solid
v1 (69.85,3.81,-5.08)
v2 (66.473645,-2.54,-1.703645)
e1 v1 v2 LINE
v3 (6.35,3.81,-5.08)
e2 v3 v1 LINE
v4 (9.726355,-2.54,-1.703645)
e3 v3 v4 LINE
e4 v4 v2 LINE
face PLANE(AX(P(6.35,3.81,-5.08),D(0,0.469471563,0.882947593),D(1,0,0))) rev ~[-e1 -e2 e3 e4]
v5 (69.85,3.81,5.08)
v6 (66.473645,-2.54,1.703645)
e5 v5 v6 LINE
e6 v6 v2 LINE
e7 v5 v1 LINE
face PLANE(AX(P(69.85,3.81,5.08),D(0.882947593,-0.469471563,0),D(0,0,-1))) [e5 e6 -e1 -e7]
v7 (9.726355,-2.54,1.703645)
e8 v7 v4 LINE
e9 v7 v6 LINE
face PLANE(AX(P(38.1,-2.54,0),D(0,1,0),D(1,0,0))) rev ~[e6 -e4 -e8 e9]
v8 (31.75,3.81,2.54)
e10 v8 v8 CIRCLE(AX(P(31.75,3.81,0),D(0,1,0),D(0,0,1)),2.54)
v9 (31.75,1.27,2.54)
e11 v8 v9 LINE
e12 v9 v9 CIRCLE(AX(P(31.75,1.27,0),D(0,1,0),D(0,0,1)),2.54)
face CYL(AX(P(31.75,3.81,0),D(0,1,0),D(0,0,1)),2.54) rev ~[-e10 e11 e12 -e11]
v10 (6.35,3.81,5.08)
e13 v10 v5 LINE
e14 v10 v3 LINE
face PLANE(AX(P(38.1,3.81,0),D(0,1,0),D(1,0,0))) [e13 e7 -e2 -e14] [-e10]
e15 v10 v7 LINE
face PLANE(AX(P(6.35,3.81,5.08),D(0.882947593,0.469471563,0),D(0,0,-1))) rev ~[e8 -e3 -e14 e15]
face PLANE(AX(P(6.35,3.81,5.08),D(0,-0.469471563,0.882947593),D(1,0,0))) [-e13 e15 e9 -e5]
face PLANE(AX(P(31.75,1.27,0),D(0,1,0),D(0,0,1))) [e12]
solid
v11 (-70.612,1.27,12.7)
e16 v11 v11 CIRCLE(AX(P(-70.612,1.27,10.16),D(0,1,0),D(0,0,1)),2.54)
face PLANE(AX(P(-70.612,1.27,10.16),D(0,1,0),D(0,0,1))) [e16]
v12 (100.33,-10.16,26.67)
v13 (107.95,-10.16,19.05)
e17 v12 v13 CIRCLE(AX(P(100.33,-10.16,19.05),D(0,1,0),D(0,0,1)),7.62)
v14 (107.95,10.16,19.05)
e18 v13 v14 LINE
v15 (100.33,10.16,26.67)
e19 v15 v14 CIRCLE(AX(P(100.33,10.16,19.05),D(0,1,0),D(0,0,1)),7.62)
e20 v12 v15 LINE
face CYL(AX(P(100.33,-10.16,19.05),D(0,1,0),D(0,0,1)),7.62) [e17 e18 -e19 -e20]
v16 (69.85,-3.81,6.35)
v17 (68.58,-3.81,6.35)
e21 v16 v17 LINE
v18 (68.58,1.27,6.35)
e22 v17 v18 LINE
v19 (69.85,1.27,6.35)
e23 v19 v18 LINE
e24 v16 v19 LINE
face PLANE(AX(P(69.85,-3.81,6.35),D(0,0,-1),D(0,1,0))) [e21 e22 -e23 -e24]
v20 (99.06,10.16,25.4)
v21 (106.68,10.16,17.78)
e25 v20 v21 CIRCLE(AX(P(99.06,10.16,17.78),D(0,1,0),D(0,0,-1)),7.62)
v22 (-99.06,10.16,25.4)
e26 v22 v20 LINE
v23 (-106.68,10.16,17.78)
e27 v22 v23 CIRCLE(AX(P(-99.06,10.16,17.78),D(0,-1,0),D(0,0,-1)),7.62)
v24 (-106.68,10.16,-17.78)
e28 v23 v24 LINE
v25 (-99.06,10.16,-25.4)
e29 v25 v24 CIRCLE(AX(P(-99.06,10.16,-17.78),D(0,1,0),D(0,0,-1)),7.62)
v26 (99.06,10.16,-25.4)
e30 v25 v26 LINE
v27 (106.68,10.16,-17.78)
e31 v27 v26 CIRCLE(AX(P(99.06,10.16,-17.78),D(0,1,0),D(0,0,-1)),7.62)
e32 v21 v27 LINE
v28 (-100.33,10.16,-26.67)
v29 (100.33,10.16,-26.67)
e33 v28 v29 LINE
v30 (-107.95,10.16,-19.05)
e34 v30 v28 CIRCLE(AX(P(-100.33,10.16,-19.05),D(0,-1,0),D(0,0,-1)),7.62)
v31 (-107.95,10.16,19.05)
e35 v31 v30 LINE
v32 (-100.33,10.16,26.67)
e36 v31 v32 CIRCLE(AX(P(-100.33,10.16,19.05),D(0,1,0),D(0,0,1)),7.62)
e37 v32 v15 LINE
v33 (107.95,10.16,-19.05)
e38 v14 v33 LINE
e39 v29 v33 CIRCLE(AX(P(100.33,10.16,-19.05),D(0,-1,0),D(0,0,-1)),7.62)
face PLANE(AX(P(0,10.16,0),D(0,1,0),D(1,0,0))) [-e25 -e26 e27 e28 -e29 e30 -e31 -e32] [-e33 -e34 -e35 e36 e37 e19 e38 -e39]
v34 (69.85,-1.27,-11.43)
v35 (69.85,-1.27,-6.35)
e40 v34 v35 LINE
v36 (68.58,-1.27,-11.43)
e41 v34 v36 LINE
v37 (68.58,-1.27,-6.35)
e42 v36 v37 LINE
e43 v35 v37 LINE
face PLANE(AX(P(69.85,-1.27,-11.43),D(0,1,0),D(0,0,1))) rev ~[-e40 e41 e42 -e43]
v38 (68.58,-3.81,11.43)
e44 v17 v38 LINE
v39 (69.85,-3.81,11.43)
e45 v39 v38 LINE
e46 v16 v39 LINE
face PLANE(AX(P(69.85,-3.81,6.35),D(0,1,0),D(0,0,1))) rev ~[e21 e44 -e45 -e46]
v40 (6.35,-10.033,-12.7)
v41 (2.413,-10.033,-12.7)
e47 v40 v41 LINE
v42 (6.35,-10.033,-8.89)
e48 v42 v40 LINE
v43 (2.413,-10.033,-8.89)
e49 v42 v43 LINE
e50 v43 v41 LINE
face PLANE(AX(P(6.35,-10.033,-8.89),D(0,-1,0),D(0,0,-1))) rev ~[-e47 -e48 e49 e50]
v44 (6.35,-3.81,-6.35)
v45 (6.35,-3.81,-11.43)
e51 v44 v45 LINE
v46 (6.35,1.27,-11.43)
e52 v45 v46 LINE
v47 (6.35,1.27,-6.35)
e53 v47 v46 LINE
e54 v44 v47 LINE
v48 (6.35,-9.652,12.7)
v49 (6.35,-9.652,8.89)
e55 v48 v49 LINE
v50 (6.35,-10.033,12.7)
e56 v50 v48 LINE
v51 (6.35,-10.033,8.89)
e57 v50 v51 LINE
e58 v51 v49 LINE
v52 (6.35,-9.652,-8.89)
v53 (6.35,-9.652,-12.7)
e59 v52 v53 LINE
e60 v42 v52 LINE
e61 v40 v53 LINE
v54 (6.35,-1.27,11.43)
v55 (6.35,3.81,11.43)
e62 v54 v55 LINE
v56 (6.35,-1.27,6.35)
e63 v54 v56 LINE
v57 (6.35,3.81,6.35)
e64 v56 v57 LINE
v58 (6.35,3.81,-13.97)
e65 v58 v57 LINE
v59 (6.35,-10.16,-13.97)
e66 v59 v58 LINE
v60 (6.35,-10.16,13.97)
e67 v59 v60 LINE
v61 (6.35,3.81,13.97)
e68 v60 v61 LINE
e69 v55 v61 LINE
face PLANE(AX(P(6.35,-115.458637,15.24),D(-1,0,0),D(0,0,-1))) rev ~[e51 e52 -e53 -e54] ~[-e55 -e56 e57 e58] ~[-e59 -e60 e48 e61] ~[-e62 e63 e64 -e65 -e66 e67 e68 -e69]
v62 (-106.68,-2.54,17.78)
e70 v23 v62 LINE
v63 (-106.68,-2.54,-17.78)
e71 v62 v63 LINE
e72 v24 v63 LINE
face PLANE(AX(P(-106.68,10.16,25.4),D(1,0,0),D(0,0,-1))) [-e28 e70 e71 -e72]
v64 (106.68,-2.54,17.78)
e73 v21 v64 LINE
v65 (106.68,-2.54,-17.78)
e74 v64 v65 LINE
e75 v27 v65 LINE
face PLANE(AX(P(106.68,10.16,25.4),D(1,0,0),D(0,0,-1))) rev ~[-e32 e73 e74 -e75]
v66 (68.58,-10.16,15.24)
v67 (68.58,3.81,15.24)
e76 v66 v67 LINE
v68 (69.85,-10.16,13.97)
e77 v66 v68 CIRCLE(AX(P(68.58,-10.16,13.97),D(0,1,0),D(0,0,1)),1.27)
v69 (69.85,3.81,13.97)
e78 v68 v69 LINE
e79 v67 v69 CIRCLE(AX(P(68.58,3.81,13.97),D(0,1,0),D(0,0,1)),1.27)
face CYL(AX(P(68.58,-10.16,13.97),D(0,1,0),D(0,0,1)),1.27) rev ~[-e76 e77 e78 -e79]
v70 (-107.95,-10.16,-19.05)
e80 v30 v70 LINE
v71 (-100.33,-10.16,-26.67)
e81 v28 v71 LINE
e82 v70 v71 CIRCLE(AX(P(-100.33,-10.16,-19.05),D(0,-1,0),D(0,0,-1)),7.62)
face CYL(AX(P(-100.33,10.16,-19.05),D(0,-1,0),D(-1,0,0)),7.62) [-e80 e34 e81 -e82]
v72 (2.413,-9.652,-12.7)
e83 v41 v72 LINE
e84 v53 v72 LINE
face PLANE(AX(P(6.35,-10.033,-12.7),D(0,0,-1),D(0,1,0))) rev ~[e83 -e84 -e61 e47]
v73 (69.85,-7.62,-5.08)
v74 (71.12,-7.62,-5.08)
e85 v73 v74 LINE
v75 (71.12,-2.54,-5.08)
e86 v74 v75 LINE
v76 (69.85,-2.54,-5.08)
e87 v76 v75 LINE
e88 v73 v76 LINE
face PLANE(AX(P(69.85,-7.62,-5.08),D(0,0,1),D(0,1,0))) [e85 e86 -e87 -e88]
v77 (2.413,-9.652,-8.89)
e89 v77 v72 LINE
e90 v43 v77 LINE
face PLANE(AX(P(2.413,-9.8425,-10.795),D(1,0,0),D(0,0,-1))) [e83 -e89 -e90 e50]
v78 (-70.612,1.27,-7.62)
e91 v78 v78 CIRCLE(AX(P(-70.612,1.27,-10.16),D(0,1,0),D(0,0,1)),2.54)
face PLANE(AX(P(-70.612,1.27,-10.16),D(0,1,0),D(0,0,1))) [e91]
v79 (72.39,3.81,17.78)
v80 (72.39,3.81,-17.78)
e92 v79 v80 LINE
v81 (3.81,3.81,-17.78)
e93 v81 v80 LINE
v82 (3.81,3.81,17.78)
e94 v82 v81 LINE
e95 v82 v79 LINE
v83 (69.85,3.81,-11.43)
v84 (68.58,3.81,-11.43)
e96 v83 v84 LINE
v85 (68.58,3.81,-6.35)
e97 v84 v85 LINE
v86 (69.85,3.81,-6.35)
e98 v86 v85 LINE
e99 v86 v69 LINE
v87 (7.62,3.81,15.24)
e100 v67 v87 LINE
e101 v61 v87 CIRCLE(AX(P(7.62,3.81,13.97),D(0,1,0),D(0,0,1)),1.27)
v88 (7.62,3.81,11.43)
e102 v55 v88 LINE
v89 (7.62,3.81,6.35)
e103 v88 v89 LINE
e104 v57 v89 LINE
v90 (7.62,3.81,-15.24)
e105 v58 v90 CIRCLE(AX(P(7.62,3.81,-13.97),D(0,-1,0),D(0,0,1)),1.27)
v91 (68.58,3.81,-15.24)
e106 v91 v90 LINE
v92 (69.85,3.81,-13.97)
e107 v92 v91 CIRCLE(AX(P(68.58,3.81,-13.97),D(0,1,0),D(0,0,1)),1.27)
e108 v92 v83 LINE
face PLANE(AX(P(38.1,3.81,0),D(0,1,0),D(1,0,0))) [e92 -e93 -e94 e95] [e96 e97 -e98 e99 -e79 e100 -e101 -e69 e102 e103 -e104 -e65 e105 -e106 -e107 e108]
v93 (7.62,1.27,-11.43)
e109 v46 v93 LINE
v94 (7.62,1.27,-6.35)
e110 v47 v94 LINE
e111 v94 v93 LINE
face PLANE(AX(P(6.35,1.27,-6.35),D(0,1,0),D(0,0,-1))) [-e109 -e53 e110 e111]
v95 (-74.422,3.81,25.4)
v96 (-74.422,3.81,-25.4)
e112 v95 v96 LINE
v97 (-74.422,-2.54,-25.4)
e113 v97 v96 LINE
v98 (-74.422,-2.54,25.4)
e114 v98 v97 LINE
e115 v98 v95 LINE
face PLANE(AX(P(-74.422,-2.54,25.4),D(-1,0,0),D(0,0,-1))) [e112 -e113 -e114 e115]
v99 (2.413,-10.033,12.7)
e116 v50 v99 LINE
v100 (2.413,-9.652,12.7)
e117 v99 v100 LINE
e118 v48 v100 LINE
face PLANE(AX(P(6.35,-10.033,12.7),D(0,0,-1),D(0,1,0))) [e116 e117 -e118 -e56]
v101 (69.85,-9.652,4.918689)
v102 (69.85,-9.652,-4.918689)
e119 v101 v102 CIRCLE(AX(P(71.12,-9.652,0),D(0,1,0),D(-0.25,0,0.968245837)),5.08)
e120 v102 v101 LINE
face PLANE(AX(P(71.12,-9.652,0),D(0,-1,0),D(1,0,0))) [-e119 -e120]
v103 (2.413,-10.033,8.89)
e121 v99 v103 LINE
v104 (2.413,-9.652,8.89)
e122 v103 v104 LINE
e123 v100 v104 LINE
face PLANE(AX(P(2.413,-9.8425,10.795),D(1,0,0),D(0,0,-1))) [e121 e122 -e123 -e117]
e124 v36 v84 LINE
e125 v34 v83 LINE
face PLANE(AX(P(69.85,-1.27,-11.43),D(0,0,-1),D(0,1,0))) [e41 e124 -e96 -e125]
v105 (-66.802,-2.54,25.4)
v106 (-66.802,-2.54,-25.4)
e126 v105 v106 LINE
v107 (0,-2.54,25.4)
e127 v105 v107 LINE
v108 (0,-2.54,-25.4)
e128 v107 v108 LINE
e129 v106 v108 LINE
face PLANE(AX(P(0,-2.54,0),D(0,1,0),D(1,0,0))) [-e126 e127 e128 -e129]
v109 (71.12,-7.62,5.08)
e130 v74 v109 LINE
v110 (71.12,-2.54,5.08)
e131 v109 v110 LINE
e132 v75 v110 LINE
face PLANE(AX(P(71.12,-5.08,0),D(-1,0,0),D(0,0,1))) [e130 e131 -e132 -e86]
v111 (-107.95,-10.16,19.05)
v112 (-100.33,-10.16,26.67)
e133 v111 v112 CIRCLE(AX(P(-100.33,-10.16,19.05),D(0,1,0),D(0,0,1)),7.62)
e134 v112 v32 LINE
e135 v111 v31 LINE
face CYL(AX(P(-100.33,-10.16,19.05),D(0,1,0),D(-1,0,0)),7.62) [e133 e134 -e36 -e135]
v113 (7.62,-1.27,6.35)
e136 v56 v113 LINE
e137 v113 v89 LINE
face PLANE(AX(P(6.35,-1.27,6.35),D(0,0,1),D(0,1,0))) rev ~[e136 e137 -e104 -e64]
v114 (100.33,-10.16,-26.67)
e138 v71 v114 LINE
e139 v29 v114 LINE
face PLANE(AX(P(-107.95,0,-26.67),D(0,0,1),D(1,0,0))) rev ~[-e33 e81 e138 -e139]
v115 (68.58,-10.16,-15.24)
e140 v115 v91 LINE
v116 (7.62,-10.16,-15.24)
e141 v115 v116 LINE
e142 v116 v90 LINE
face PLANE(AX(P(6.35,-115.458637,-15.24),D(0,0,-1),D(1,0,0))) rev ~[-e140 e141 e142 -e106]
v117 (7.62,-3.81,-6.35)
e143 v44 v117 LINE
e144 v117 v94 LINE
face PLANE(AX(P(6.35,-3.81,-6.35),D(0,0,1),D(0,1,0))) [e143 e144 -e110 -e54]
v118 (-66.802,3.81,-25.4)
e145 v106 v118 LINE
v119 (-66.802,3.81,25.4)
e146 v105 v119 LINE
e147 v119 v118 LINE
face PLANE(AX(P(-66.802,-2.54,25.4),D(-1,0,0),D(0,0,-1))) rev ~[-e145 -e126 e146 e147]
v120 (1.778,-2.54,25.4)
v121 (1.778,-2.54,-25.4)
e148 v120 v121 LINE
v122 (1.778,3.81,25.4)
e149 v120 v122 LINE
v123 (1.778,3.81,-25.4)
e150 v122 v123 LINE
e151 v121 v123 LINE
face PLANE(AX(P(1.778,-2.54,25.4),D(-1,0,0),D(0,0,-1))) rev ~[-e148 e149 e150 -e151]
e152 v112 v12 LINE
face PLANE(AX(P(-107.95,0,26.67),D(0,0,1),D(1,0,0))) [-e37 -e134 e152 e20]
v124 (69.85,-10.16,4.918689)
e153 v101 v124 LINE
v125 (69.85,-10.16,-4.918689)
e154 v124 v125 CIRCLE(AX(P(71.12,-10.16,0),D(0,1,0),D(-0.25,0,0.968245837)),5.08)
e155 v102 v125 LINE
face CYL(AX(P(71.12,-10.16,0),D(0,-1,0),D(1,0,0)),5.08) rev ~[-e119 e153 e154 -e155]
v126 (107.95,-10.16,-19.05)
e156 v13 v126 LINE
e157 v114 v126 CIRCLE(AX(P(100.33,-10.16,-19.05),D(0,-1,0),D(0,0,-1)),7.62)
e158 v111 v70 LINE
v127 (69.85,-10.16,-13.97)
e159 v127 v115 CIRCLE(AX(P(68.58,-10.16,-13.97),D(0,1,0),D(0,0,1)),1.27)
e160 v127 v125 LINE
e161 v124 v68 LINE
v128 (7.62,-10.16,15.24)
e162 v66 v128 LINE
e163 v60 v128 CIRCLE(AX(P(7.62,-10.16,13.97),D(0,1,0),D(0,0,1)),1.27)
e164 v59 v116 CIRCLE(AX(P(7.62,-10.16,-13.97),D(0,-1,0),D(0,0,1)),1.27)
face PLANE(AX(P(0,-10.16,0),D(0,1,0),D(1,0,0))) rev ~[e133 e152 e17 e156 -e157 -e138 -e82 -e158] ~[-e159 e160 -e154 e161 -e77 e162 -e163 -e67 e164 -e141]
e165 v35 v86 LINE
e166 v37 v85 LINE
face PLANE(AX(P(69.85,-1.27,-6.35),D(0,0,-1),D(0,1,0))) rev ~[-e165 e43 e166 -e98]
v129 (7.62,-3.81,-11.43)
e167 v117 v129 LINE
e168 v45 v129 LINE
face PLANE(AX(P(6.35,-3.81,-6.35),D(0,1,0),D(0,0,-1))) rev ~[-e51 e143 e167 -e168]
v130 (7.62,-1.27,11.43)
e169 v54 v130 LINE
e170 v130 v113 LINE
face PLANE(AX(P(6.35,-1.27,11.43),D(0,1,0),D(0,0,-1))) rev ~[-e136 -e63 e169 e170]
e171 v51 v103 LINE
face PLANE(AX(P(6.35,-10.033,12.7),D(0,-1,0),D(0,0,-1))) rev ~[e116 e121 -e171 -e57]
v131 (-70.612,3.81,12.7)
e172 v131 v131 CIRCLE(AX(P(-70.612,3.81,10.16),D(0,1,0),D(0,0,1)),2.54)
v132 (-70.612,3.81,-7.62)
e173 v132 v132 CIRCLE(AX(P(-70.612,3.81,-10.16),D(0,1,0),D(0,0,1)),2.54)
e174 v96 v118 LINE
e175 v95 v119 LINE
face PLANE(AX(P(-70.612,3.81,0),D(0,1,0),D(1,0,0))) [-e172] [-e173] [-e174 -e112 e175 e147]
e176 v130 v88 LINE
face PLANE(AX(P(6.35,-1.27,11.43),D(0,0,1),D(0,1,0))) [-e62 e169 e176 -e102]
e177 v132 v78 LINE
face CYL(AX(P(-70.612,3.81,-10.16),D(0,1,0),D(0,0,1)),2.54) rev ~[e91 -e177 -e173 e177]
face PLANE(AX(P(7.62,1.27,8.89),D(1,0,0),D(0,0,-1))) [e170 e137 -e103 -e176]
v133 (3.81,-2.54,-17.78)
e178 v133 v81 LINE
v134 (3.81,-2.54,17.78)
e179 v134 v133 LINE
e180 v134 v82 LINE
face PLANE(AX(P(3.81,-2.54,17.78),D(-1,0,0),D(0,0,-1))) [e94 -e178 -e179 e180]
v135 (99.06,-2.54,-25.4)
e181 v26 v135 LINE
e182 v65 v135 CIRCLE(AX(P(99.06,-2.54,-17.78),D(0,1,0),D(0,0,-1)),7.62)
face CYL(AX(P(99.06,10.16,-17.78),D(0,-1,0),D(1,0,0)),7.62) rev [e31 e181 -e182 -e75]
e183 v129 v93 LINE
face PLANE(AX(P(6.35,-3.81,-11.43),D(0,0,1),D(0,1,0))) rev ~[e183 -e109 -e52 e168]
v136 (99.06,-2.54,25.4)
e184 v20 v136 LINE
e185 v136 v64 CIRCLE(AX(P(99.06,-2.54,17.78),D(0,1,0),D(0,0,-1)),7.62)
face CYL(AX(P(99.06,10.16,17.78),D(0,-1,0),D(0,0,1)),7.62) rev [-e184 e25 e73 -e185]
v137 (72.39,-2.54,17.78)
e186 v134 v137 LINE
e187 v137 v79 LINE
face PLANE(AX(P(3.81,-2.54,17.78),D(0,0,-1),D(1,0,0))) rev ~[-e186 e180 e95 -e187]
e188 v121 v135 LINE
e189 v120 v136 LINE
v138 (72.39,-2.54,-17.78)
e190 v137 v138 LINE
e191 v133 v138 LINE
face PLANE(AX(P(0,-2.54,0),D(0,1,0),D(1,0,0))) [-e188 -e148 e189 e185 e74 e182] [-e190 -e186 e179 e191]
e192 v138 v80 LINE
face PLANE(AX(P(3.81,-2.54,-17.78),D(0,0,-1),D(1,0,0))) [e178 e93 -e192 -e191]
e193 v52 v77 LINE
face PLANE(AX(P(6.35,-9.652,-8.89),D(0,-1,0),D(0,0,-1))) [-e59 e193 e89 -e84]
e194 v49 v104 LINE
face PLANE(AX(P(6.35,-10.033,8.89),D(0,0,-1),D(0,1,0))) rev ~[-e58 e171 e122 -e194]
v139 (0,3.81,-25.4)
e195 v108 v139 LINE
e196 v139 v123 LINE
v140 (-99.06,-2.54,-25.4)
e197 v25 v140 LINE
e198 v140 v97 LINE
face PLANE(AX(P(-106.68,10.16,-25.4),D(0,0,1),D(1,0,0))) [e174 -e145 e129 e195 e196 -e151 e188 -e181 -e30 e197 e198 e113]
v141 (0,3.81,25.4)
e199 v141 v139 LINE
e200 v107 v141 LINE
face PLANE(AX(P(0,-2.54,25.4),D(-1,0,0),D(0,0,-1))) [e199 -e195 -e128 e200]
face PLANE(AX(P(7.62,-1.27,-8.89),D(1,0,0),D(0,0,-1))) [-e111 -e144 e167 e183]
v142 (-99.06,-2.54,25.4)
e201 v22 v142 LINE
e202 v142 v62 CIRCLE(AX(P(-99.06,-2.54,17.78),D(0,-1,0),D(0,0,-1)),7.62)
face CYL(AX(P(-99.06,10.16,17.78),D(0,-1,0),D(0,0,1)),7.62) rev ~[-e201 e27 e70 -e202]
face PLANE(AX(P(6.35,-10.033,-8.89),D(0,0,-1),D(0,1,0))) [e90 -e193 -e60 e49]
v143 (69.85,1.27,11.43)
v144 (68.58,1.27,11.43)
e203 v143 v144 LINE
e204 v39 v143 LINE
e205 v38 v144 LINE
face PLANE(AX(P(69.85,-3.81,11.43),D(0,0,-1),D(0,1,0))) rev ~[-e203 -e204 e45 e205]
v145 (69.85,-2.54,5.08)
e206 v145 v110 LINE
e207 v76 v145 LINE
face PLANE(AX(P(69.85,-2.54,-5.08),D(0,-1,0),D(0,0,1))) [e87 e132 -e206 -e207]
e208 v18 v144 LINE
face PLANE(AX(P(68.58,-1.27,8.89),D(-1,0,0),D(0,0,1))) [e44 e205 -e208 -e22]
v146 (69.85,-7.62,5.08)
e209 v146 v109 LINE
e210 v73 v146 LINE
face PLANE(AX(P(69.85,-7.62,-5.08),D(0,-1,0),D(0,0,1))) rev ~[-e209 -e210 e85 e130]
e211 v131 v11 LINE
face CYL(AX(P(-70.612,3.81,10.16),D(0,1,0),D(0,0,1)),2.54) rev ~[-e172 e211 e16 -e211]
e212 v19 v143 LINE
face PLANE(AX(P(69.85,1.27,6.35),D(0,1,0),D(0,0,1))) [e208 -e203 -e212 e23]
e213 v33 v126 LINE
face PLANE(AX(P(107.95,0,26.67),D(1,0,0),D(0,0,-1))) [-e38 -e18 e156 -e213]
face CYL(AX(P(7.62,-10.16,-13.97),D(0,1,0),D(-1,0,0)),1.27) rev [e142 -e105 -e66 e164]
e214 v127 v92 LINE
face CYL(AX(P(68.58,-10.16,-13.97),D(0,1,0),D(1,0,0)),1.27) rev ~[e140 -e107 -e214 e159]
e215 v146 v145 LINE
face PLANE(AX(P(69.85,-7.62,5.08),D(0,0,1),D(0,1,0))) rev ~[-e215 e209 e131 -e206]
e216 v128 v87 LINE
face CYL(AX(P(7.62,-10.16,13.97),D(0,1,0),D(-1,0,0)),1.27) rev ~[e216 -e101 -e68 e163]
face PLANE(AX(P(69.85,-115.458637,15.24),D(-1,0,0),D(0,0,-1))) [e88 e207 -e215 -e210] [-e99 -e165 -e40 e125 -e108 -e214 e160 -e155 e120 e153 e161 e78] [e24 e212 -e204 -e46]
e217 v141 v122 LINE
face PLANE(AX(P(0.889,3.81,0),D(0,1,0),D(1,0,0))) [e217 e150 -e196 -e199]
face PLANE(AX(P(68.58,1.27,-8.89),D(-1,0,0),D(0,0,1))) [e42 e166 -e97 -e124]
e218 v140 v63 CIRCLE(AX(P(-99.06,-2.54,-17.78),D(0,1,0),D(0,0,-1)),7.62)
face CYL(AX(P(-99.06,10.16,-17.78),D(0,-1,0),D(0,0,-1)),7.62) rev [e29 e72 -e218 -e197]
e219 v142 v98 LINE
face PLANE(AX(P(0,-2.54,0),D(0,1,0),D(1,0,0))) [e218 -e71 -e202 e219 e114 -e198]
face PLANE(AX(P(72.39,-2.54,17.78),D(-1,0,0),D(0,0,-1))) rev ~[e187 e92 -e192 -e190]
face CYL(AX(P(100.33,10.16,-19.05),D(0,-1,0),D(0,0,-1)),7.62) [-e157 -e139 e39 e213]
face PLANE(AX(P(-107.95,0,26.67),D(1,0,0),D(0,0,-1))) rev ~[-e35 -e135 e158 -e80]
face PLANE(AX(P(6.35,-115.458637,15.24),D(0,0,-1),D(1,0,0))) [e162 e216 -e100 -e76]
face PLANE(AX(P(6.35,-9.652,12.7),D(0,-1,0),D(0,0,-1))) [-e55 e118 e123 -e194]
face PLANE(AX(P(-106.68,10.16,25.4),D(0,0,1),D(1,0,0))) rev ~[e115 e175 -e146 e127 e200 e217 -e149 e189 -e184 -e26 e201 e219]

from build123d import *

# Parameters (mm, degrees)
SKETCH1_W               = 215.9
SKETCH1_H               = 53.34
BOSS_EXTRUDE1_DEPTH     = 10.16
SKETCH3_W               = 213.36
SKETCH3_H               = 50.8
CUT_EXTRUDE1_DEPTH      = 12.7
FILLET3_R               = 7.62
SKETCH4_W               = 7.62
SKETCH4_H               = 50.8
SKETCH4_W_2             = 1.778
BOSS_EXTRUDE2_DEPTH     = 6.35
SKETCH5_W               = 68.58
SKETCH5_H               = 35.56
BOSS_EXTRUDE3_DEPTH     = 6.35
CUT_EXTRUDE2_DEPTH      = 112.918637411
CUT_EXTRUDE2_DEPTH_BACK = 112.918637411
SKETCH9_W               = 63.5
SKETCH9_H               = 30.48
SKETCH10_W              = 63.5
SKETCH10_H              = 10.16
BOSS_EXTRUDE4_DEPTH     = 6.35
BOSS_EXTRUDE4_DRAFT     = -28
SKETCH11_W              = 5.08
SKETCH11_H              = 5.08
BOSS_EXTRUDE5_DEPTH     = 1.27
SKETCH13_W              = 5.08
SKETCH13_H              = 5.08
BOSS_EXTRUDE6_DEPTH     = 1.27
SKETCH16_W              = 10.16
SKETCH16_H              = 5.08
CUT_EXTRUDE3_DEPTH      = 1.27
FILLET4_R               = 1.27
SKETCH19_R              = 5.08
CUT_EXTRUDE5_DEPTH      = 0.508
SKETCH21_W              = 3.81
SKETCH21_H              = 0.381
CUT_EXTRUDE7_DEPTH      = 3.937
SKETCH24_R              = 2.54
CUT_EXTRUDE11_DEPTH     = 2.54
SKETCH25_R              = 2.54
CUT_EXTRUDE12_DEPTH     = 2.54


with BuildPart() as part:
    # Sketch1 → Boss-Extrude1 (new, symmetric)
    with BuildSketch(Plane(origin=(0, 0, 0), x_dir=(1, 0, 0), z_dir=(0, 1, 0))):
        Rectangle(SKETCH1_W, SKETCH1_H)
    extrude(amount=BOSS_EXTRUDE1_DEPTH, both=True)

    # Sketch3 → Cut-Extrude1 (cut)
    with BuildSketch(Plane(origin=(0, 10.16, 0), x_dir=(1, 0, 0), z_dir=(0, 1, 0))):
        Rectangle(SKETCH3_W, SKETCH3_H)
    extrude(amount=-CUT_EXTRUDE1_DEPTH, mode=Mode.SUBTRACT)

    # Fillet3
    fillet3_edges = [part.edges().sort_by_distance(p)[0] for p in [
        (106.68, 3.81, 25.4),
        (106.68, 3.81, -25.4),
        (-106.68, 3.81, 25.4),
        (-106.68, 3.81, -25.4),
        (-107.95, 0, 26.67),
        (107.95, 0, -26.67),
        (107.95, 0, 26.67),
        (-107.95, 0, -26.67),
    ]]
    fillet(fillet3_edges, radius=FILLET3_R)

    # Sketch4 → Boss-Extrude2 (add)
    with BuildSketch(Plane(origin=(0, -2.54, 0), x_dir=(1, 0, 0), z_dir=(0, 1, 0))):
        with Locations((-70.612, 0)):
            Rectangle(SKETCH4_W, SKETCH4_H)
        with Locations((0.889, 0)):
            Rectangle(SKETCH4_W_2, SKETCH4_H)
    extrude(amount=BOSS_EXTRUDE2_DEPTH)

    # Sketch5 → Boss-Extrude3 (add)
    with BuildSketch(Plane(origin=(0, -2.54, 0), x_dir=(1, 0, 0), z_dir=(0, 1, 0))):
        with Locations((38.1, 0)):
            Rectangle(SKETCH5_W, SKETCH5_H)
    extrude(amount=BOSS_EXTRUDE3_DEPTH)

    # Sketch9 → Cut-Extrude2 (cut, two sides: drawn at the far end of the back side and taken through both)
    with BuildSketch(Plane(origin=(0, -2.54, 0), x_dir=(1, 0, 0), z_dir=(0, 1, 0)).offset(-CUT_EXTRUDE2_DEPTH_BACK)):
        with Locations((38.1, 0)):
            Rectangle(SKETCH9_W, SKETCH9_H)
    extrude(amount=CUT_EXTRUDE2_DEPTH + CUT_EXTRUDE2_DEPTH_BACK, mode=Mode.SUBTRACT)

    # Sketch11 → Boss-Extrude5 (add)
    with BuildSketch(Plane(origin=(6.35, 0, 0), x_dir=(0, 0, -1), z_dir=(1, 0, 0))):
        with Locations((-8.89, 1.27)):
            Rectangle(SKETCH11_W, SKETCH11_H)
        with Locations((8.89, -1.27)):
            Rectangle(SKETCH11_W, SKETCH11_H)
    extrude(amount=BOSS_EXTRUDE5_DEPTH)

    # Sketch13 → Boss-Extrude6 (add)
    with BuildSketch(Plane.ZY.offset(-69.85)):
        with Locations((-8.89, 1.27)):
            Rectangle(SKETCH13_W, SKETCH13_H)
        with Locations((8.89, -1.27)):
            Rectangle(SKETCH13_W, SKETCH13_H)
    extrude(amount=BOSS_EXTRUDE6_DEPTH)

    # Sketch16 → Cut-Extrude3 (cut)
    with BuildSketch(Plane.ZY.offset(-69.85)):
        with Locations((0, -5.08)):
            Rectangle(SKETCH16_W, SKETCH16_H)
    extrude(amount=-CUT_EXTRUDE3_DEPTH, mode=Mode.SUBTRACT)

    # Fillet4
    fillet4_edges = [part.edges().sort_by_distance(p)[0] for p in [
        (69.85, -3.175, -15.24),
        (69.85, -3.175, 15.24),
        (6.35, -3.175, 15.24),
        (6.35, -3.175, -15.24),
    ]]
    fillet(fillet4_edges, radius=FILLET4_R)

    # Sketch19 → Cut-Extrude5 (cut)
    with BuildSketch(Plane.XZ.offset(10.16)):
        with Locations((71.12, 0)):
            Circle(SKETCH19_R)
    extrude(amount=-CUT_EXTRUDE5_DEPTH, mode=Mode.SUBTRACT)

    # Sketch21 → Cut-Extrude7 (cut)
    with BuildSketch(Plane(origin=(6.35, 0, 0), x_dir=(0, 0, -1), z_dir=(1, 0, 0))):
        with Locations((-10.795, -9.8425)):
            Rectangle(SKETCH21_W, SKETCH21_H)
        with Locations((10.795, -9.8425)):
            Rectangle(SKETCH21_W, SKETCH21_H)
    extrude(amount=-CUT_EXTRUDE7_DEPTH, mode=Mode.SUBTRACT)

    # Sketch24 → Cut-Extrude11 (cut)
    with BuildSketch(Plane(origin=(0, 3.81, 0), x_dir=(1, 0, 0), z_dir=(0, 1, 0))):
        with Locations((-70.612, -10.16)):
            Circle(SKETCH24_R)
        with Locations((-70.612, 10.16)):
            Circle(SKETCH24_R)
    extrude(amount=-CUT_EXTRUDE11_DEPTH, mode=Mode.SUBTRACT)


with BuildPart() as body_2:
    # Sketch10 → Boss-Extrude4 (with draft: the straight prism first)
    with BuildSketch(Plane(origin=(0, 3.81, 0), x_dir=(1, 0, 0), z_dir=(0, 1, 0))):
        with Locations((38.1, 0)):
            Rectangle(SKETCH10_W, SKETCH10_H)
    extrude(amount=-BOSS_EXTRUDE4_DEPTH)
    # Boss-Extrude4: the draft: its side faces are tilted about the plane it starts from
    boss_extrude4_sides = [body_2.faces().sort_by_distance(p)[0] for p in [
        (38.1, 0.635, 5.08),
        (69.85, 0.635, 0),
        (38.1, 0.635, -5.08),
        (6.35, 0.635, 0),
    ]]
    draft(boss_extrude4_sides, Plane(origin=(0, 3.81, 0), x_dir=(1, 0, 0), z_dir=(0, 1, 0)), BOSS_EXTRUDE4_DRAFT)

    # Sketch25 → Cut-Extrude12 (cut)
    with BuildSketch(Plane(origin=(0, 3.81, 0), x_dir=(1, 0, 0), z_dir=(0, 1, 0))):
        with Locations((31.75, 0)):
            Circle(SKETCH25_R)
    extrude(amount=-CUT_EXTRUDE12_DEPTH, mode=Mode.SUBTRACT)


solid = Compound([part.part, body_2.part])
